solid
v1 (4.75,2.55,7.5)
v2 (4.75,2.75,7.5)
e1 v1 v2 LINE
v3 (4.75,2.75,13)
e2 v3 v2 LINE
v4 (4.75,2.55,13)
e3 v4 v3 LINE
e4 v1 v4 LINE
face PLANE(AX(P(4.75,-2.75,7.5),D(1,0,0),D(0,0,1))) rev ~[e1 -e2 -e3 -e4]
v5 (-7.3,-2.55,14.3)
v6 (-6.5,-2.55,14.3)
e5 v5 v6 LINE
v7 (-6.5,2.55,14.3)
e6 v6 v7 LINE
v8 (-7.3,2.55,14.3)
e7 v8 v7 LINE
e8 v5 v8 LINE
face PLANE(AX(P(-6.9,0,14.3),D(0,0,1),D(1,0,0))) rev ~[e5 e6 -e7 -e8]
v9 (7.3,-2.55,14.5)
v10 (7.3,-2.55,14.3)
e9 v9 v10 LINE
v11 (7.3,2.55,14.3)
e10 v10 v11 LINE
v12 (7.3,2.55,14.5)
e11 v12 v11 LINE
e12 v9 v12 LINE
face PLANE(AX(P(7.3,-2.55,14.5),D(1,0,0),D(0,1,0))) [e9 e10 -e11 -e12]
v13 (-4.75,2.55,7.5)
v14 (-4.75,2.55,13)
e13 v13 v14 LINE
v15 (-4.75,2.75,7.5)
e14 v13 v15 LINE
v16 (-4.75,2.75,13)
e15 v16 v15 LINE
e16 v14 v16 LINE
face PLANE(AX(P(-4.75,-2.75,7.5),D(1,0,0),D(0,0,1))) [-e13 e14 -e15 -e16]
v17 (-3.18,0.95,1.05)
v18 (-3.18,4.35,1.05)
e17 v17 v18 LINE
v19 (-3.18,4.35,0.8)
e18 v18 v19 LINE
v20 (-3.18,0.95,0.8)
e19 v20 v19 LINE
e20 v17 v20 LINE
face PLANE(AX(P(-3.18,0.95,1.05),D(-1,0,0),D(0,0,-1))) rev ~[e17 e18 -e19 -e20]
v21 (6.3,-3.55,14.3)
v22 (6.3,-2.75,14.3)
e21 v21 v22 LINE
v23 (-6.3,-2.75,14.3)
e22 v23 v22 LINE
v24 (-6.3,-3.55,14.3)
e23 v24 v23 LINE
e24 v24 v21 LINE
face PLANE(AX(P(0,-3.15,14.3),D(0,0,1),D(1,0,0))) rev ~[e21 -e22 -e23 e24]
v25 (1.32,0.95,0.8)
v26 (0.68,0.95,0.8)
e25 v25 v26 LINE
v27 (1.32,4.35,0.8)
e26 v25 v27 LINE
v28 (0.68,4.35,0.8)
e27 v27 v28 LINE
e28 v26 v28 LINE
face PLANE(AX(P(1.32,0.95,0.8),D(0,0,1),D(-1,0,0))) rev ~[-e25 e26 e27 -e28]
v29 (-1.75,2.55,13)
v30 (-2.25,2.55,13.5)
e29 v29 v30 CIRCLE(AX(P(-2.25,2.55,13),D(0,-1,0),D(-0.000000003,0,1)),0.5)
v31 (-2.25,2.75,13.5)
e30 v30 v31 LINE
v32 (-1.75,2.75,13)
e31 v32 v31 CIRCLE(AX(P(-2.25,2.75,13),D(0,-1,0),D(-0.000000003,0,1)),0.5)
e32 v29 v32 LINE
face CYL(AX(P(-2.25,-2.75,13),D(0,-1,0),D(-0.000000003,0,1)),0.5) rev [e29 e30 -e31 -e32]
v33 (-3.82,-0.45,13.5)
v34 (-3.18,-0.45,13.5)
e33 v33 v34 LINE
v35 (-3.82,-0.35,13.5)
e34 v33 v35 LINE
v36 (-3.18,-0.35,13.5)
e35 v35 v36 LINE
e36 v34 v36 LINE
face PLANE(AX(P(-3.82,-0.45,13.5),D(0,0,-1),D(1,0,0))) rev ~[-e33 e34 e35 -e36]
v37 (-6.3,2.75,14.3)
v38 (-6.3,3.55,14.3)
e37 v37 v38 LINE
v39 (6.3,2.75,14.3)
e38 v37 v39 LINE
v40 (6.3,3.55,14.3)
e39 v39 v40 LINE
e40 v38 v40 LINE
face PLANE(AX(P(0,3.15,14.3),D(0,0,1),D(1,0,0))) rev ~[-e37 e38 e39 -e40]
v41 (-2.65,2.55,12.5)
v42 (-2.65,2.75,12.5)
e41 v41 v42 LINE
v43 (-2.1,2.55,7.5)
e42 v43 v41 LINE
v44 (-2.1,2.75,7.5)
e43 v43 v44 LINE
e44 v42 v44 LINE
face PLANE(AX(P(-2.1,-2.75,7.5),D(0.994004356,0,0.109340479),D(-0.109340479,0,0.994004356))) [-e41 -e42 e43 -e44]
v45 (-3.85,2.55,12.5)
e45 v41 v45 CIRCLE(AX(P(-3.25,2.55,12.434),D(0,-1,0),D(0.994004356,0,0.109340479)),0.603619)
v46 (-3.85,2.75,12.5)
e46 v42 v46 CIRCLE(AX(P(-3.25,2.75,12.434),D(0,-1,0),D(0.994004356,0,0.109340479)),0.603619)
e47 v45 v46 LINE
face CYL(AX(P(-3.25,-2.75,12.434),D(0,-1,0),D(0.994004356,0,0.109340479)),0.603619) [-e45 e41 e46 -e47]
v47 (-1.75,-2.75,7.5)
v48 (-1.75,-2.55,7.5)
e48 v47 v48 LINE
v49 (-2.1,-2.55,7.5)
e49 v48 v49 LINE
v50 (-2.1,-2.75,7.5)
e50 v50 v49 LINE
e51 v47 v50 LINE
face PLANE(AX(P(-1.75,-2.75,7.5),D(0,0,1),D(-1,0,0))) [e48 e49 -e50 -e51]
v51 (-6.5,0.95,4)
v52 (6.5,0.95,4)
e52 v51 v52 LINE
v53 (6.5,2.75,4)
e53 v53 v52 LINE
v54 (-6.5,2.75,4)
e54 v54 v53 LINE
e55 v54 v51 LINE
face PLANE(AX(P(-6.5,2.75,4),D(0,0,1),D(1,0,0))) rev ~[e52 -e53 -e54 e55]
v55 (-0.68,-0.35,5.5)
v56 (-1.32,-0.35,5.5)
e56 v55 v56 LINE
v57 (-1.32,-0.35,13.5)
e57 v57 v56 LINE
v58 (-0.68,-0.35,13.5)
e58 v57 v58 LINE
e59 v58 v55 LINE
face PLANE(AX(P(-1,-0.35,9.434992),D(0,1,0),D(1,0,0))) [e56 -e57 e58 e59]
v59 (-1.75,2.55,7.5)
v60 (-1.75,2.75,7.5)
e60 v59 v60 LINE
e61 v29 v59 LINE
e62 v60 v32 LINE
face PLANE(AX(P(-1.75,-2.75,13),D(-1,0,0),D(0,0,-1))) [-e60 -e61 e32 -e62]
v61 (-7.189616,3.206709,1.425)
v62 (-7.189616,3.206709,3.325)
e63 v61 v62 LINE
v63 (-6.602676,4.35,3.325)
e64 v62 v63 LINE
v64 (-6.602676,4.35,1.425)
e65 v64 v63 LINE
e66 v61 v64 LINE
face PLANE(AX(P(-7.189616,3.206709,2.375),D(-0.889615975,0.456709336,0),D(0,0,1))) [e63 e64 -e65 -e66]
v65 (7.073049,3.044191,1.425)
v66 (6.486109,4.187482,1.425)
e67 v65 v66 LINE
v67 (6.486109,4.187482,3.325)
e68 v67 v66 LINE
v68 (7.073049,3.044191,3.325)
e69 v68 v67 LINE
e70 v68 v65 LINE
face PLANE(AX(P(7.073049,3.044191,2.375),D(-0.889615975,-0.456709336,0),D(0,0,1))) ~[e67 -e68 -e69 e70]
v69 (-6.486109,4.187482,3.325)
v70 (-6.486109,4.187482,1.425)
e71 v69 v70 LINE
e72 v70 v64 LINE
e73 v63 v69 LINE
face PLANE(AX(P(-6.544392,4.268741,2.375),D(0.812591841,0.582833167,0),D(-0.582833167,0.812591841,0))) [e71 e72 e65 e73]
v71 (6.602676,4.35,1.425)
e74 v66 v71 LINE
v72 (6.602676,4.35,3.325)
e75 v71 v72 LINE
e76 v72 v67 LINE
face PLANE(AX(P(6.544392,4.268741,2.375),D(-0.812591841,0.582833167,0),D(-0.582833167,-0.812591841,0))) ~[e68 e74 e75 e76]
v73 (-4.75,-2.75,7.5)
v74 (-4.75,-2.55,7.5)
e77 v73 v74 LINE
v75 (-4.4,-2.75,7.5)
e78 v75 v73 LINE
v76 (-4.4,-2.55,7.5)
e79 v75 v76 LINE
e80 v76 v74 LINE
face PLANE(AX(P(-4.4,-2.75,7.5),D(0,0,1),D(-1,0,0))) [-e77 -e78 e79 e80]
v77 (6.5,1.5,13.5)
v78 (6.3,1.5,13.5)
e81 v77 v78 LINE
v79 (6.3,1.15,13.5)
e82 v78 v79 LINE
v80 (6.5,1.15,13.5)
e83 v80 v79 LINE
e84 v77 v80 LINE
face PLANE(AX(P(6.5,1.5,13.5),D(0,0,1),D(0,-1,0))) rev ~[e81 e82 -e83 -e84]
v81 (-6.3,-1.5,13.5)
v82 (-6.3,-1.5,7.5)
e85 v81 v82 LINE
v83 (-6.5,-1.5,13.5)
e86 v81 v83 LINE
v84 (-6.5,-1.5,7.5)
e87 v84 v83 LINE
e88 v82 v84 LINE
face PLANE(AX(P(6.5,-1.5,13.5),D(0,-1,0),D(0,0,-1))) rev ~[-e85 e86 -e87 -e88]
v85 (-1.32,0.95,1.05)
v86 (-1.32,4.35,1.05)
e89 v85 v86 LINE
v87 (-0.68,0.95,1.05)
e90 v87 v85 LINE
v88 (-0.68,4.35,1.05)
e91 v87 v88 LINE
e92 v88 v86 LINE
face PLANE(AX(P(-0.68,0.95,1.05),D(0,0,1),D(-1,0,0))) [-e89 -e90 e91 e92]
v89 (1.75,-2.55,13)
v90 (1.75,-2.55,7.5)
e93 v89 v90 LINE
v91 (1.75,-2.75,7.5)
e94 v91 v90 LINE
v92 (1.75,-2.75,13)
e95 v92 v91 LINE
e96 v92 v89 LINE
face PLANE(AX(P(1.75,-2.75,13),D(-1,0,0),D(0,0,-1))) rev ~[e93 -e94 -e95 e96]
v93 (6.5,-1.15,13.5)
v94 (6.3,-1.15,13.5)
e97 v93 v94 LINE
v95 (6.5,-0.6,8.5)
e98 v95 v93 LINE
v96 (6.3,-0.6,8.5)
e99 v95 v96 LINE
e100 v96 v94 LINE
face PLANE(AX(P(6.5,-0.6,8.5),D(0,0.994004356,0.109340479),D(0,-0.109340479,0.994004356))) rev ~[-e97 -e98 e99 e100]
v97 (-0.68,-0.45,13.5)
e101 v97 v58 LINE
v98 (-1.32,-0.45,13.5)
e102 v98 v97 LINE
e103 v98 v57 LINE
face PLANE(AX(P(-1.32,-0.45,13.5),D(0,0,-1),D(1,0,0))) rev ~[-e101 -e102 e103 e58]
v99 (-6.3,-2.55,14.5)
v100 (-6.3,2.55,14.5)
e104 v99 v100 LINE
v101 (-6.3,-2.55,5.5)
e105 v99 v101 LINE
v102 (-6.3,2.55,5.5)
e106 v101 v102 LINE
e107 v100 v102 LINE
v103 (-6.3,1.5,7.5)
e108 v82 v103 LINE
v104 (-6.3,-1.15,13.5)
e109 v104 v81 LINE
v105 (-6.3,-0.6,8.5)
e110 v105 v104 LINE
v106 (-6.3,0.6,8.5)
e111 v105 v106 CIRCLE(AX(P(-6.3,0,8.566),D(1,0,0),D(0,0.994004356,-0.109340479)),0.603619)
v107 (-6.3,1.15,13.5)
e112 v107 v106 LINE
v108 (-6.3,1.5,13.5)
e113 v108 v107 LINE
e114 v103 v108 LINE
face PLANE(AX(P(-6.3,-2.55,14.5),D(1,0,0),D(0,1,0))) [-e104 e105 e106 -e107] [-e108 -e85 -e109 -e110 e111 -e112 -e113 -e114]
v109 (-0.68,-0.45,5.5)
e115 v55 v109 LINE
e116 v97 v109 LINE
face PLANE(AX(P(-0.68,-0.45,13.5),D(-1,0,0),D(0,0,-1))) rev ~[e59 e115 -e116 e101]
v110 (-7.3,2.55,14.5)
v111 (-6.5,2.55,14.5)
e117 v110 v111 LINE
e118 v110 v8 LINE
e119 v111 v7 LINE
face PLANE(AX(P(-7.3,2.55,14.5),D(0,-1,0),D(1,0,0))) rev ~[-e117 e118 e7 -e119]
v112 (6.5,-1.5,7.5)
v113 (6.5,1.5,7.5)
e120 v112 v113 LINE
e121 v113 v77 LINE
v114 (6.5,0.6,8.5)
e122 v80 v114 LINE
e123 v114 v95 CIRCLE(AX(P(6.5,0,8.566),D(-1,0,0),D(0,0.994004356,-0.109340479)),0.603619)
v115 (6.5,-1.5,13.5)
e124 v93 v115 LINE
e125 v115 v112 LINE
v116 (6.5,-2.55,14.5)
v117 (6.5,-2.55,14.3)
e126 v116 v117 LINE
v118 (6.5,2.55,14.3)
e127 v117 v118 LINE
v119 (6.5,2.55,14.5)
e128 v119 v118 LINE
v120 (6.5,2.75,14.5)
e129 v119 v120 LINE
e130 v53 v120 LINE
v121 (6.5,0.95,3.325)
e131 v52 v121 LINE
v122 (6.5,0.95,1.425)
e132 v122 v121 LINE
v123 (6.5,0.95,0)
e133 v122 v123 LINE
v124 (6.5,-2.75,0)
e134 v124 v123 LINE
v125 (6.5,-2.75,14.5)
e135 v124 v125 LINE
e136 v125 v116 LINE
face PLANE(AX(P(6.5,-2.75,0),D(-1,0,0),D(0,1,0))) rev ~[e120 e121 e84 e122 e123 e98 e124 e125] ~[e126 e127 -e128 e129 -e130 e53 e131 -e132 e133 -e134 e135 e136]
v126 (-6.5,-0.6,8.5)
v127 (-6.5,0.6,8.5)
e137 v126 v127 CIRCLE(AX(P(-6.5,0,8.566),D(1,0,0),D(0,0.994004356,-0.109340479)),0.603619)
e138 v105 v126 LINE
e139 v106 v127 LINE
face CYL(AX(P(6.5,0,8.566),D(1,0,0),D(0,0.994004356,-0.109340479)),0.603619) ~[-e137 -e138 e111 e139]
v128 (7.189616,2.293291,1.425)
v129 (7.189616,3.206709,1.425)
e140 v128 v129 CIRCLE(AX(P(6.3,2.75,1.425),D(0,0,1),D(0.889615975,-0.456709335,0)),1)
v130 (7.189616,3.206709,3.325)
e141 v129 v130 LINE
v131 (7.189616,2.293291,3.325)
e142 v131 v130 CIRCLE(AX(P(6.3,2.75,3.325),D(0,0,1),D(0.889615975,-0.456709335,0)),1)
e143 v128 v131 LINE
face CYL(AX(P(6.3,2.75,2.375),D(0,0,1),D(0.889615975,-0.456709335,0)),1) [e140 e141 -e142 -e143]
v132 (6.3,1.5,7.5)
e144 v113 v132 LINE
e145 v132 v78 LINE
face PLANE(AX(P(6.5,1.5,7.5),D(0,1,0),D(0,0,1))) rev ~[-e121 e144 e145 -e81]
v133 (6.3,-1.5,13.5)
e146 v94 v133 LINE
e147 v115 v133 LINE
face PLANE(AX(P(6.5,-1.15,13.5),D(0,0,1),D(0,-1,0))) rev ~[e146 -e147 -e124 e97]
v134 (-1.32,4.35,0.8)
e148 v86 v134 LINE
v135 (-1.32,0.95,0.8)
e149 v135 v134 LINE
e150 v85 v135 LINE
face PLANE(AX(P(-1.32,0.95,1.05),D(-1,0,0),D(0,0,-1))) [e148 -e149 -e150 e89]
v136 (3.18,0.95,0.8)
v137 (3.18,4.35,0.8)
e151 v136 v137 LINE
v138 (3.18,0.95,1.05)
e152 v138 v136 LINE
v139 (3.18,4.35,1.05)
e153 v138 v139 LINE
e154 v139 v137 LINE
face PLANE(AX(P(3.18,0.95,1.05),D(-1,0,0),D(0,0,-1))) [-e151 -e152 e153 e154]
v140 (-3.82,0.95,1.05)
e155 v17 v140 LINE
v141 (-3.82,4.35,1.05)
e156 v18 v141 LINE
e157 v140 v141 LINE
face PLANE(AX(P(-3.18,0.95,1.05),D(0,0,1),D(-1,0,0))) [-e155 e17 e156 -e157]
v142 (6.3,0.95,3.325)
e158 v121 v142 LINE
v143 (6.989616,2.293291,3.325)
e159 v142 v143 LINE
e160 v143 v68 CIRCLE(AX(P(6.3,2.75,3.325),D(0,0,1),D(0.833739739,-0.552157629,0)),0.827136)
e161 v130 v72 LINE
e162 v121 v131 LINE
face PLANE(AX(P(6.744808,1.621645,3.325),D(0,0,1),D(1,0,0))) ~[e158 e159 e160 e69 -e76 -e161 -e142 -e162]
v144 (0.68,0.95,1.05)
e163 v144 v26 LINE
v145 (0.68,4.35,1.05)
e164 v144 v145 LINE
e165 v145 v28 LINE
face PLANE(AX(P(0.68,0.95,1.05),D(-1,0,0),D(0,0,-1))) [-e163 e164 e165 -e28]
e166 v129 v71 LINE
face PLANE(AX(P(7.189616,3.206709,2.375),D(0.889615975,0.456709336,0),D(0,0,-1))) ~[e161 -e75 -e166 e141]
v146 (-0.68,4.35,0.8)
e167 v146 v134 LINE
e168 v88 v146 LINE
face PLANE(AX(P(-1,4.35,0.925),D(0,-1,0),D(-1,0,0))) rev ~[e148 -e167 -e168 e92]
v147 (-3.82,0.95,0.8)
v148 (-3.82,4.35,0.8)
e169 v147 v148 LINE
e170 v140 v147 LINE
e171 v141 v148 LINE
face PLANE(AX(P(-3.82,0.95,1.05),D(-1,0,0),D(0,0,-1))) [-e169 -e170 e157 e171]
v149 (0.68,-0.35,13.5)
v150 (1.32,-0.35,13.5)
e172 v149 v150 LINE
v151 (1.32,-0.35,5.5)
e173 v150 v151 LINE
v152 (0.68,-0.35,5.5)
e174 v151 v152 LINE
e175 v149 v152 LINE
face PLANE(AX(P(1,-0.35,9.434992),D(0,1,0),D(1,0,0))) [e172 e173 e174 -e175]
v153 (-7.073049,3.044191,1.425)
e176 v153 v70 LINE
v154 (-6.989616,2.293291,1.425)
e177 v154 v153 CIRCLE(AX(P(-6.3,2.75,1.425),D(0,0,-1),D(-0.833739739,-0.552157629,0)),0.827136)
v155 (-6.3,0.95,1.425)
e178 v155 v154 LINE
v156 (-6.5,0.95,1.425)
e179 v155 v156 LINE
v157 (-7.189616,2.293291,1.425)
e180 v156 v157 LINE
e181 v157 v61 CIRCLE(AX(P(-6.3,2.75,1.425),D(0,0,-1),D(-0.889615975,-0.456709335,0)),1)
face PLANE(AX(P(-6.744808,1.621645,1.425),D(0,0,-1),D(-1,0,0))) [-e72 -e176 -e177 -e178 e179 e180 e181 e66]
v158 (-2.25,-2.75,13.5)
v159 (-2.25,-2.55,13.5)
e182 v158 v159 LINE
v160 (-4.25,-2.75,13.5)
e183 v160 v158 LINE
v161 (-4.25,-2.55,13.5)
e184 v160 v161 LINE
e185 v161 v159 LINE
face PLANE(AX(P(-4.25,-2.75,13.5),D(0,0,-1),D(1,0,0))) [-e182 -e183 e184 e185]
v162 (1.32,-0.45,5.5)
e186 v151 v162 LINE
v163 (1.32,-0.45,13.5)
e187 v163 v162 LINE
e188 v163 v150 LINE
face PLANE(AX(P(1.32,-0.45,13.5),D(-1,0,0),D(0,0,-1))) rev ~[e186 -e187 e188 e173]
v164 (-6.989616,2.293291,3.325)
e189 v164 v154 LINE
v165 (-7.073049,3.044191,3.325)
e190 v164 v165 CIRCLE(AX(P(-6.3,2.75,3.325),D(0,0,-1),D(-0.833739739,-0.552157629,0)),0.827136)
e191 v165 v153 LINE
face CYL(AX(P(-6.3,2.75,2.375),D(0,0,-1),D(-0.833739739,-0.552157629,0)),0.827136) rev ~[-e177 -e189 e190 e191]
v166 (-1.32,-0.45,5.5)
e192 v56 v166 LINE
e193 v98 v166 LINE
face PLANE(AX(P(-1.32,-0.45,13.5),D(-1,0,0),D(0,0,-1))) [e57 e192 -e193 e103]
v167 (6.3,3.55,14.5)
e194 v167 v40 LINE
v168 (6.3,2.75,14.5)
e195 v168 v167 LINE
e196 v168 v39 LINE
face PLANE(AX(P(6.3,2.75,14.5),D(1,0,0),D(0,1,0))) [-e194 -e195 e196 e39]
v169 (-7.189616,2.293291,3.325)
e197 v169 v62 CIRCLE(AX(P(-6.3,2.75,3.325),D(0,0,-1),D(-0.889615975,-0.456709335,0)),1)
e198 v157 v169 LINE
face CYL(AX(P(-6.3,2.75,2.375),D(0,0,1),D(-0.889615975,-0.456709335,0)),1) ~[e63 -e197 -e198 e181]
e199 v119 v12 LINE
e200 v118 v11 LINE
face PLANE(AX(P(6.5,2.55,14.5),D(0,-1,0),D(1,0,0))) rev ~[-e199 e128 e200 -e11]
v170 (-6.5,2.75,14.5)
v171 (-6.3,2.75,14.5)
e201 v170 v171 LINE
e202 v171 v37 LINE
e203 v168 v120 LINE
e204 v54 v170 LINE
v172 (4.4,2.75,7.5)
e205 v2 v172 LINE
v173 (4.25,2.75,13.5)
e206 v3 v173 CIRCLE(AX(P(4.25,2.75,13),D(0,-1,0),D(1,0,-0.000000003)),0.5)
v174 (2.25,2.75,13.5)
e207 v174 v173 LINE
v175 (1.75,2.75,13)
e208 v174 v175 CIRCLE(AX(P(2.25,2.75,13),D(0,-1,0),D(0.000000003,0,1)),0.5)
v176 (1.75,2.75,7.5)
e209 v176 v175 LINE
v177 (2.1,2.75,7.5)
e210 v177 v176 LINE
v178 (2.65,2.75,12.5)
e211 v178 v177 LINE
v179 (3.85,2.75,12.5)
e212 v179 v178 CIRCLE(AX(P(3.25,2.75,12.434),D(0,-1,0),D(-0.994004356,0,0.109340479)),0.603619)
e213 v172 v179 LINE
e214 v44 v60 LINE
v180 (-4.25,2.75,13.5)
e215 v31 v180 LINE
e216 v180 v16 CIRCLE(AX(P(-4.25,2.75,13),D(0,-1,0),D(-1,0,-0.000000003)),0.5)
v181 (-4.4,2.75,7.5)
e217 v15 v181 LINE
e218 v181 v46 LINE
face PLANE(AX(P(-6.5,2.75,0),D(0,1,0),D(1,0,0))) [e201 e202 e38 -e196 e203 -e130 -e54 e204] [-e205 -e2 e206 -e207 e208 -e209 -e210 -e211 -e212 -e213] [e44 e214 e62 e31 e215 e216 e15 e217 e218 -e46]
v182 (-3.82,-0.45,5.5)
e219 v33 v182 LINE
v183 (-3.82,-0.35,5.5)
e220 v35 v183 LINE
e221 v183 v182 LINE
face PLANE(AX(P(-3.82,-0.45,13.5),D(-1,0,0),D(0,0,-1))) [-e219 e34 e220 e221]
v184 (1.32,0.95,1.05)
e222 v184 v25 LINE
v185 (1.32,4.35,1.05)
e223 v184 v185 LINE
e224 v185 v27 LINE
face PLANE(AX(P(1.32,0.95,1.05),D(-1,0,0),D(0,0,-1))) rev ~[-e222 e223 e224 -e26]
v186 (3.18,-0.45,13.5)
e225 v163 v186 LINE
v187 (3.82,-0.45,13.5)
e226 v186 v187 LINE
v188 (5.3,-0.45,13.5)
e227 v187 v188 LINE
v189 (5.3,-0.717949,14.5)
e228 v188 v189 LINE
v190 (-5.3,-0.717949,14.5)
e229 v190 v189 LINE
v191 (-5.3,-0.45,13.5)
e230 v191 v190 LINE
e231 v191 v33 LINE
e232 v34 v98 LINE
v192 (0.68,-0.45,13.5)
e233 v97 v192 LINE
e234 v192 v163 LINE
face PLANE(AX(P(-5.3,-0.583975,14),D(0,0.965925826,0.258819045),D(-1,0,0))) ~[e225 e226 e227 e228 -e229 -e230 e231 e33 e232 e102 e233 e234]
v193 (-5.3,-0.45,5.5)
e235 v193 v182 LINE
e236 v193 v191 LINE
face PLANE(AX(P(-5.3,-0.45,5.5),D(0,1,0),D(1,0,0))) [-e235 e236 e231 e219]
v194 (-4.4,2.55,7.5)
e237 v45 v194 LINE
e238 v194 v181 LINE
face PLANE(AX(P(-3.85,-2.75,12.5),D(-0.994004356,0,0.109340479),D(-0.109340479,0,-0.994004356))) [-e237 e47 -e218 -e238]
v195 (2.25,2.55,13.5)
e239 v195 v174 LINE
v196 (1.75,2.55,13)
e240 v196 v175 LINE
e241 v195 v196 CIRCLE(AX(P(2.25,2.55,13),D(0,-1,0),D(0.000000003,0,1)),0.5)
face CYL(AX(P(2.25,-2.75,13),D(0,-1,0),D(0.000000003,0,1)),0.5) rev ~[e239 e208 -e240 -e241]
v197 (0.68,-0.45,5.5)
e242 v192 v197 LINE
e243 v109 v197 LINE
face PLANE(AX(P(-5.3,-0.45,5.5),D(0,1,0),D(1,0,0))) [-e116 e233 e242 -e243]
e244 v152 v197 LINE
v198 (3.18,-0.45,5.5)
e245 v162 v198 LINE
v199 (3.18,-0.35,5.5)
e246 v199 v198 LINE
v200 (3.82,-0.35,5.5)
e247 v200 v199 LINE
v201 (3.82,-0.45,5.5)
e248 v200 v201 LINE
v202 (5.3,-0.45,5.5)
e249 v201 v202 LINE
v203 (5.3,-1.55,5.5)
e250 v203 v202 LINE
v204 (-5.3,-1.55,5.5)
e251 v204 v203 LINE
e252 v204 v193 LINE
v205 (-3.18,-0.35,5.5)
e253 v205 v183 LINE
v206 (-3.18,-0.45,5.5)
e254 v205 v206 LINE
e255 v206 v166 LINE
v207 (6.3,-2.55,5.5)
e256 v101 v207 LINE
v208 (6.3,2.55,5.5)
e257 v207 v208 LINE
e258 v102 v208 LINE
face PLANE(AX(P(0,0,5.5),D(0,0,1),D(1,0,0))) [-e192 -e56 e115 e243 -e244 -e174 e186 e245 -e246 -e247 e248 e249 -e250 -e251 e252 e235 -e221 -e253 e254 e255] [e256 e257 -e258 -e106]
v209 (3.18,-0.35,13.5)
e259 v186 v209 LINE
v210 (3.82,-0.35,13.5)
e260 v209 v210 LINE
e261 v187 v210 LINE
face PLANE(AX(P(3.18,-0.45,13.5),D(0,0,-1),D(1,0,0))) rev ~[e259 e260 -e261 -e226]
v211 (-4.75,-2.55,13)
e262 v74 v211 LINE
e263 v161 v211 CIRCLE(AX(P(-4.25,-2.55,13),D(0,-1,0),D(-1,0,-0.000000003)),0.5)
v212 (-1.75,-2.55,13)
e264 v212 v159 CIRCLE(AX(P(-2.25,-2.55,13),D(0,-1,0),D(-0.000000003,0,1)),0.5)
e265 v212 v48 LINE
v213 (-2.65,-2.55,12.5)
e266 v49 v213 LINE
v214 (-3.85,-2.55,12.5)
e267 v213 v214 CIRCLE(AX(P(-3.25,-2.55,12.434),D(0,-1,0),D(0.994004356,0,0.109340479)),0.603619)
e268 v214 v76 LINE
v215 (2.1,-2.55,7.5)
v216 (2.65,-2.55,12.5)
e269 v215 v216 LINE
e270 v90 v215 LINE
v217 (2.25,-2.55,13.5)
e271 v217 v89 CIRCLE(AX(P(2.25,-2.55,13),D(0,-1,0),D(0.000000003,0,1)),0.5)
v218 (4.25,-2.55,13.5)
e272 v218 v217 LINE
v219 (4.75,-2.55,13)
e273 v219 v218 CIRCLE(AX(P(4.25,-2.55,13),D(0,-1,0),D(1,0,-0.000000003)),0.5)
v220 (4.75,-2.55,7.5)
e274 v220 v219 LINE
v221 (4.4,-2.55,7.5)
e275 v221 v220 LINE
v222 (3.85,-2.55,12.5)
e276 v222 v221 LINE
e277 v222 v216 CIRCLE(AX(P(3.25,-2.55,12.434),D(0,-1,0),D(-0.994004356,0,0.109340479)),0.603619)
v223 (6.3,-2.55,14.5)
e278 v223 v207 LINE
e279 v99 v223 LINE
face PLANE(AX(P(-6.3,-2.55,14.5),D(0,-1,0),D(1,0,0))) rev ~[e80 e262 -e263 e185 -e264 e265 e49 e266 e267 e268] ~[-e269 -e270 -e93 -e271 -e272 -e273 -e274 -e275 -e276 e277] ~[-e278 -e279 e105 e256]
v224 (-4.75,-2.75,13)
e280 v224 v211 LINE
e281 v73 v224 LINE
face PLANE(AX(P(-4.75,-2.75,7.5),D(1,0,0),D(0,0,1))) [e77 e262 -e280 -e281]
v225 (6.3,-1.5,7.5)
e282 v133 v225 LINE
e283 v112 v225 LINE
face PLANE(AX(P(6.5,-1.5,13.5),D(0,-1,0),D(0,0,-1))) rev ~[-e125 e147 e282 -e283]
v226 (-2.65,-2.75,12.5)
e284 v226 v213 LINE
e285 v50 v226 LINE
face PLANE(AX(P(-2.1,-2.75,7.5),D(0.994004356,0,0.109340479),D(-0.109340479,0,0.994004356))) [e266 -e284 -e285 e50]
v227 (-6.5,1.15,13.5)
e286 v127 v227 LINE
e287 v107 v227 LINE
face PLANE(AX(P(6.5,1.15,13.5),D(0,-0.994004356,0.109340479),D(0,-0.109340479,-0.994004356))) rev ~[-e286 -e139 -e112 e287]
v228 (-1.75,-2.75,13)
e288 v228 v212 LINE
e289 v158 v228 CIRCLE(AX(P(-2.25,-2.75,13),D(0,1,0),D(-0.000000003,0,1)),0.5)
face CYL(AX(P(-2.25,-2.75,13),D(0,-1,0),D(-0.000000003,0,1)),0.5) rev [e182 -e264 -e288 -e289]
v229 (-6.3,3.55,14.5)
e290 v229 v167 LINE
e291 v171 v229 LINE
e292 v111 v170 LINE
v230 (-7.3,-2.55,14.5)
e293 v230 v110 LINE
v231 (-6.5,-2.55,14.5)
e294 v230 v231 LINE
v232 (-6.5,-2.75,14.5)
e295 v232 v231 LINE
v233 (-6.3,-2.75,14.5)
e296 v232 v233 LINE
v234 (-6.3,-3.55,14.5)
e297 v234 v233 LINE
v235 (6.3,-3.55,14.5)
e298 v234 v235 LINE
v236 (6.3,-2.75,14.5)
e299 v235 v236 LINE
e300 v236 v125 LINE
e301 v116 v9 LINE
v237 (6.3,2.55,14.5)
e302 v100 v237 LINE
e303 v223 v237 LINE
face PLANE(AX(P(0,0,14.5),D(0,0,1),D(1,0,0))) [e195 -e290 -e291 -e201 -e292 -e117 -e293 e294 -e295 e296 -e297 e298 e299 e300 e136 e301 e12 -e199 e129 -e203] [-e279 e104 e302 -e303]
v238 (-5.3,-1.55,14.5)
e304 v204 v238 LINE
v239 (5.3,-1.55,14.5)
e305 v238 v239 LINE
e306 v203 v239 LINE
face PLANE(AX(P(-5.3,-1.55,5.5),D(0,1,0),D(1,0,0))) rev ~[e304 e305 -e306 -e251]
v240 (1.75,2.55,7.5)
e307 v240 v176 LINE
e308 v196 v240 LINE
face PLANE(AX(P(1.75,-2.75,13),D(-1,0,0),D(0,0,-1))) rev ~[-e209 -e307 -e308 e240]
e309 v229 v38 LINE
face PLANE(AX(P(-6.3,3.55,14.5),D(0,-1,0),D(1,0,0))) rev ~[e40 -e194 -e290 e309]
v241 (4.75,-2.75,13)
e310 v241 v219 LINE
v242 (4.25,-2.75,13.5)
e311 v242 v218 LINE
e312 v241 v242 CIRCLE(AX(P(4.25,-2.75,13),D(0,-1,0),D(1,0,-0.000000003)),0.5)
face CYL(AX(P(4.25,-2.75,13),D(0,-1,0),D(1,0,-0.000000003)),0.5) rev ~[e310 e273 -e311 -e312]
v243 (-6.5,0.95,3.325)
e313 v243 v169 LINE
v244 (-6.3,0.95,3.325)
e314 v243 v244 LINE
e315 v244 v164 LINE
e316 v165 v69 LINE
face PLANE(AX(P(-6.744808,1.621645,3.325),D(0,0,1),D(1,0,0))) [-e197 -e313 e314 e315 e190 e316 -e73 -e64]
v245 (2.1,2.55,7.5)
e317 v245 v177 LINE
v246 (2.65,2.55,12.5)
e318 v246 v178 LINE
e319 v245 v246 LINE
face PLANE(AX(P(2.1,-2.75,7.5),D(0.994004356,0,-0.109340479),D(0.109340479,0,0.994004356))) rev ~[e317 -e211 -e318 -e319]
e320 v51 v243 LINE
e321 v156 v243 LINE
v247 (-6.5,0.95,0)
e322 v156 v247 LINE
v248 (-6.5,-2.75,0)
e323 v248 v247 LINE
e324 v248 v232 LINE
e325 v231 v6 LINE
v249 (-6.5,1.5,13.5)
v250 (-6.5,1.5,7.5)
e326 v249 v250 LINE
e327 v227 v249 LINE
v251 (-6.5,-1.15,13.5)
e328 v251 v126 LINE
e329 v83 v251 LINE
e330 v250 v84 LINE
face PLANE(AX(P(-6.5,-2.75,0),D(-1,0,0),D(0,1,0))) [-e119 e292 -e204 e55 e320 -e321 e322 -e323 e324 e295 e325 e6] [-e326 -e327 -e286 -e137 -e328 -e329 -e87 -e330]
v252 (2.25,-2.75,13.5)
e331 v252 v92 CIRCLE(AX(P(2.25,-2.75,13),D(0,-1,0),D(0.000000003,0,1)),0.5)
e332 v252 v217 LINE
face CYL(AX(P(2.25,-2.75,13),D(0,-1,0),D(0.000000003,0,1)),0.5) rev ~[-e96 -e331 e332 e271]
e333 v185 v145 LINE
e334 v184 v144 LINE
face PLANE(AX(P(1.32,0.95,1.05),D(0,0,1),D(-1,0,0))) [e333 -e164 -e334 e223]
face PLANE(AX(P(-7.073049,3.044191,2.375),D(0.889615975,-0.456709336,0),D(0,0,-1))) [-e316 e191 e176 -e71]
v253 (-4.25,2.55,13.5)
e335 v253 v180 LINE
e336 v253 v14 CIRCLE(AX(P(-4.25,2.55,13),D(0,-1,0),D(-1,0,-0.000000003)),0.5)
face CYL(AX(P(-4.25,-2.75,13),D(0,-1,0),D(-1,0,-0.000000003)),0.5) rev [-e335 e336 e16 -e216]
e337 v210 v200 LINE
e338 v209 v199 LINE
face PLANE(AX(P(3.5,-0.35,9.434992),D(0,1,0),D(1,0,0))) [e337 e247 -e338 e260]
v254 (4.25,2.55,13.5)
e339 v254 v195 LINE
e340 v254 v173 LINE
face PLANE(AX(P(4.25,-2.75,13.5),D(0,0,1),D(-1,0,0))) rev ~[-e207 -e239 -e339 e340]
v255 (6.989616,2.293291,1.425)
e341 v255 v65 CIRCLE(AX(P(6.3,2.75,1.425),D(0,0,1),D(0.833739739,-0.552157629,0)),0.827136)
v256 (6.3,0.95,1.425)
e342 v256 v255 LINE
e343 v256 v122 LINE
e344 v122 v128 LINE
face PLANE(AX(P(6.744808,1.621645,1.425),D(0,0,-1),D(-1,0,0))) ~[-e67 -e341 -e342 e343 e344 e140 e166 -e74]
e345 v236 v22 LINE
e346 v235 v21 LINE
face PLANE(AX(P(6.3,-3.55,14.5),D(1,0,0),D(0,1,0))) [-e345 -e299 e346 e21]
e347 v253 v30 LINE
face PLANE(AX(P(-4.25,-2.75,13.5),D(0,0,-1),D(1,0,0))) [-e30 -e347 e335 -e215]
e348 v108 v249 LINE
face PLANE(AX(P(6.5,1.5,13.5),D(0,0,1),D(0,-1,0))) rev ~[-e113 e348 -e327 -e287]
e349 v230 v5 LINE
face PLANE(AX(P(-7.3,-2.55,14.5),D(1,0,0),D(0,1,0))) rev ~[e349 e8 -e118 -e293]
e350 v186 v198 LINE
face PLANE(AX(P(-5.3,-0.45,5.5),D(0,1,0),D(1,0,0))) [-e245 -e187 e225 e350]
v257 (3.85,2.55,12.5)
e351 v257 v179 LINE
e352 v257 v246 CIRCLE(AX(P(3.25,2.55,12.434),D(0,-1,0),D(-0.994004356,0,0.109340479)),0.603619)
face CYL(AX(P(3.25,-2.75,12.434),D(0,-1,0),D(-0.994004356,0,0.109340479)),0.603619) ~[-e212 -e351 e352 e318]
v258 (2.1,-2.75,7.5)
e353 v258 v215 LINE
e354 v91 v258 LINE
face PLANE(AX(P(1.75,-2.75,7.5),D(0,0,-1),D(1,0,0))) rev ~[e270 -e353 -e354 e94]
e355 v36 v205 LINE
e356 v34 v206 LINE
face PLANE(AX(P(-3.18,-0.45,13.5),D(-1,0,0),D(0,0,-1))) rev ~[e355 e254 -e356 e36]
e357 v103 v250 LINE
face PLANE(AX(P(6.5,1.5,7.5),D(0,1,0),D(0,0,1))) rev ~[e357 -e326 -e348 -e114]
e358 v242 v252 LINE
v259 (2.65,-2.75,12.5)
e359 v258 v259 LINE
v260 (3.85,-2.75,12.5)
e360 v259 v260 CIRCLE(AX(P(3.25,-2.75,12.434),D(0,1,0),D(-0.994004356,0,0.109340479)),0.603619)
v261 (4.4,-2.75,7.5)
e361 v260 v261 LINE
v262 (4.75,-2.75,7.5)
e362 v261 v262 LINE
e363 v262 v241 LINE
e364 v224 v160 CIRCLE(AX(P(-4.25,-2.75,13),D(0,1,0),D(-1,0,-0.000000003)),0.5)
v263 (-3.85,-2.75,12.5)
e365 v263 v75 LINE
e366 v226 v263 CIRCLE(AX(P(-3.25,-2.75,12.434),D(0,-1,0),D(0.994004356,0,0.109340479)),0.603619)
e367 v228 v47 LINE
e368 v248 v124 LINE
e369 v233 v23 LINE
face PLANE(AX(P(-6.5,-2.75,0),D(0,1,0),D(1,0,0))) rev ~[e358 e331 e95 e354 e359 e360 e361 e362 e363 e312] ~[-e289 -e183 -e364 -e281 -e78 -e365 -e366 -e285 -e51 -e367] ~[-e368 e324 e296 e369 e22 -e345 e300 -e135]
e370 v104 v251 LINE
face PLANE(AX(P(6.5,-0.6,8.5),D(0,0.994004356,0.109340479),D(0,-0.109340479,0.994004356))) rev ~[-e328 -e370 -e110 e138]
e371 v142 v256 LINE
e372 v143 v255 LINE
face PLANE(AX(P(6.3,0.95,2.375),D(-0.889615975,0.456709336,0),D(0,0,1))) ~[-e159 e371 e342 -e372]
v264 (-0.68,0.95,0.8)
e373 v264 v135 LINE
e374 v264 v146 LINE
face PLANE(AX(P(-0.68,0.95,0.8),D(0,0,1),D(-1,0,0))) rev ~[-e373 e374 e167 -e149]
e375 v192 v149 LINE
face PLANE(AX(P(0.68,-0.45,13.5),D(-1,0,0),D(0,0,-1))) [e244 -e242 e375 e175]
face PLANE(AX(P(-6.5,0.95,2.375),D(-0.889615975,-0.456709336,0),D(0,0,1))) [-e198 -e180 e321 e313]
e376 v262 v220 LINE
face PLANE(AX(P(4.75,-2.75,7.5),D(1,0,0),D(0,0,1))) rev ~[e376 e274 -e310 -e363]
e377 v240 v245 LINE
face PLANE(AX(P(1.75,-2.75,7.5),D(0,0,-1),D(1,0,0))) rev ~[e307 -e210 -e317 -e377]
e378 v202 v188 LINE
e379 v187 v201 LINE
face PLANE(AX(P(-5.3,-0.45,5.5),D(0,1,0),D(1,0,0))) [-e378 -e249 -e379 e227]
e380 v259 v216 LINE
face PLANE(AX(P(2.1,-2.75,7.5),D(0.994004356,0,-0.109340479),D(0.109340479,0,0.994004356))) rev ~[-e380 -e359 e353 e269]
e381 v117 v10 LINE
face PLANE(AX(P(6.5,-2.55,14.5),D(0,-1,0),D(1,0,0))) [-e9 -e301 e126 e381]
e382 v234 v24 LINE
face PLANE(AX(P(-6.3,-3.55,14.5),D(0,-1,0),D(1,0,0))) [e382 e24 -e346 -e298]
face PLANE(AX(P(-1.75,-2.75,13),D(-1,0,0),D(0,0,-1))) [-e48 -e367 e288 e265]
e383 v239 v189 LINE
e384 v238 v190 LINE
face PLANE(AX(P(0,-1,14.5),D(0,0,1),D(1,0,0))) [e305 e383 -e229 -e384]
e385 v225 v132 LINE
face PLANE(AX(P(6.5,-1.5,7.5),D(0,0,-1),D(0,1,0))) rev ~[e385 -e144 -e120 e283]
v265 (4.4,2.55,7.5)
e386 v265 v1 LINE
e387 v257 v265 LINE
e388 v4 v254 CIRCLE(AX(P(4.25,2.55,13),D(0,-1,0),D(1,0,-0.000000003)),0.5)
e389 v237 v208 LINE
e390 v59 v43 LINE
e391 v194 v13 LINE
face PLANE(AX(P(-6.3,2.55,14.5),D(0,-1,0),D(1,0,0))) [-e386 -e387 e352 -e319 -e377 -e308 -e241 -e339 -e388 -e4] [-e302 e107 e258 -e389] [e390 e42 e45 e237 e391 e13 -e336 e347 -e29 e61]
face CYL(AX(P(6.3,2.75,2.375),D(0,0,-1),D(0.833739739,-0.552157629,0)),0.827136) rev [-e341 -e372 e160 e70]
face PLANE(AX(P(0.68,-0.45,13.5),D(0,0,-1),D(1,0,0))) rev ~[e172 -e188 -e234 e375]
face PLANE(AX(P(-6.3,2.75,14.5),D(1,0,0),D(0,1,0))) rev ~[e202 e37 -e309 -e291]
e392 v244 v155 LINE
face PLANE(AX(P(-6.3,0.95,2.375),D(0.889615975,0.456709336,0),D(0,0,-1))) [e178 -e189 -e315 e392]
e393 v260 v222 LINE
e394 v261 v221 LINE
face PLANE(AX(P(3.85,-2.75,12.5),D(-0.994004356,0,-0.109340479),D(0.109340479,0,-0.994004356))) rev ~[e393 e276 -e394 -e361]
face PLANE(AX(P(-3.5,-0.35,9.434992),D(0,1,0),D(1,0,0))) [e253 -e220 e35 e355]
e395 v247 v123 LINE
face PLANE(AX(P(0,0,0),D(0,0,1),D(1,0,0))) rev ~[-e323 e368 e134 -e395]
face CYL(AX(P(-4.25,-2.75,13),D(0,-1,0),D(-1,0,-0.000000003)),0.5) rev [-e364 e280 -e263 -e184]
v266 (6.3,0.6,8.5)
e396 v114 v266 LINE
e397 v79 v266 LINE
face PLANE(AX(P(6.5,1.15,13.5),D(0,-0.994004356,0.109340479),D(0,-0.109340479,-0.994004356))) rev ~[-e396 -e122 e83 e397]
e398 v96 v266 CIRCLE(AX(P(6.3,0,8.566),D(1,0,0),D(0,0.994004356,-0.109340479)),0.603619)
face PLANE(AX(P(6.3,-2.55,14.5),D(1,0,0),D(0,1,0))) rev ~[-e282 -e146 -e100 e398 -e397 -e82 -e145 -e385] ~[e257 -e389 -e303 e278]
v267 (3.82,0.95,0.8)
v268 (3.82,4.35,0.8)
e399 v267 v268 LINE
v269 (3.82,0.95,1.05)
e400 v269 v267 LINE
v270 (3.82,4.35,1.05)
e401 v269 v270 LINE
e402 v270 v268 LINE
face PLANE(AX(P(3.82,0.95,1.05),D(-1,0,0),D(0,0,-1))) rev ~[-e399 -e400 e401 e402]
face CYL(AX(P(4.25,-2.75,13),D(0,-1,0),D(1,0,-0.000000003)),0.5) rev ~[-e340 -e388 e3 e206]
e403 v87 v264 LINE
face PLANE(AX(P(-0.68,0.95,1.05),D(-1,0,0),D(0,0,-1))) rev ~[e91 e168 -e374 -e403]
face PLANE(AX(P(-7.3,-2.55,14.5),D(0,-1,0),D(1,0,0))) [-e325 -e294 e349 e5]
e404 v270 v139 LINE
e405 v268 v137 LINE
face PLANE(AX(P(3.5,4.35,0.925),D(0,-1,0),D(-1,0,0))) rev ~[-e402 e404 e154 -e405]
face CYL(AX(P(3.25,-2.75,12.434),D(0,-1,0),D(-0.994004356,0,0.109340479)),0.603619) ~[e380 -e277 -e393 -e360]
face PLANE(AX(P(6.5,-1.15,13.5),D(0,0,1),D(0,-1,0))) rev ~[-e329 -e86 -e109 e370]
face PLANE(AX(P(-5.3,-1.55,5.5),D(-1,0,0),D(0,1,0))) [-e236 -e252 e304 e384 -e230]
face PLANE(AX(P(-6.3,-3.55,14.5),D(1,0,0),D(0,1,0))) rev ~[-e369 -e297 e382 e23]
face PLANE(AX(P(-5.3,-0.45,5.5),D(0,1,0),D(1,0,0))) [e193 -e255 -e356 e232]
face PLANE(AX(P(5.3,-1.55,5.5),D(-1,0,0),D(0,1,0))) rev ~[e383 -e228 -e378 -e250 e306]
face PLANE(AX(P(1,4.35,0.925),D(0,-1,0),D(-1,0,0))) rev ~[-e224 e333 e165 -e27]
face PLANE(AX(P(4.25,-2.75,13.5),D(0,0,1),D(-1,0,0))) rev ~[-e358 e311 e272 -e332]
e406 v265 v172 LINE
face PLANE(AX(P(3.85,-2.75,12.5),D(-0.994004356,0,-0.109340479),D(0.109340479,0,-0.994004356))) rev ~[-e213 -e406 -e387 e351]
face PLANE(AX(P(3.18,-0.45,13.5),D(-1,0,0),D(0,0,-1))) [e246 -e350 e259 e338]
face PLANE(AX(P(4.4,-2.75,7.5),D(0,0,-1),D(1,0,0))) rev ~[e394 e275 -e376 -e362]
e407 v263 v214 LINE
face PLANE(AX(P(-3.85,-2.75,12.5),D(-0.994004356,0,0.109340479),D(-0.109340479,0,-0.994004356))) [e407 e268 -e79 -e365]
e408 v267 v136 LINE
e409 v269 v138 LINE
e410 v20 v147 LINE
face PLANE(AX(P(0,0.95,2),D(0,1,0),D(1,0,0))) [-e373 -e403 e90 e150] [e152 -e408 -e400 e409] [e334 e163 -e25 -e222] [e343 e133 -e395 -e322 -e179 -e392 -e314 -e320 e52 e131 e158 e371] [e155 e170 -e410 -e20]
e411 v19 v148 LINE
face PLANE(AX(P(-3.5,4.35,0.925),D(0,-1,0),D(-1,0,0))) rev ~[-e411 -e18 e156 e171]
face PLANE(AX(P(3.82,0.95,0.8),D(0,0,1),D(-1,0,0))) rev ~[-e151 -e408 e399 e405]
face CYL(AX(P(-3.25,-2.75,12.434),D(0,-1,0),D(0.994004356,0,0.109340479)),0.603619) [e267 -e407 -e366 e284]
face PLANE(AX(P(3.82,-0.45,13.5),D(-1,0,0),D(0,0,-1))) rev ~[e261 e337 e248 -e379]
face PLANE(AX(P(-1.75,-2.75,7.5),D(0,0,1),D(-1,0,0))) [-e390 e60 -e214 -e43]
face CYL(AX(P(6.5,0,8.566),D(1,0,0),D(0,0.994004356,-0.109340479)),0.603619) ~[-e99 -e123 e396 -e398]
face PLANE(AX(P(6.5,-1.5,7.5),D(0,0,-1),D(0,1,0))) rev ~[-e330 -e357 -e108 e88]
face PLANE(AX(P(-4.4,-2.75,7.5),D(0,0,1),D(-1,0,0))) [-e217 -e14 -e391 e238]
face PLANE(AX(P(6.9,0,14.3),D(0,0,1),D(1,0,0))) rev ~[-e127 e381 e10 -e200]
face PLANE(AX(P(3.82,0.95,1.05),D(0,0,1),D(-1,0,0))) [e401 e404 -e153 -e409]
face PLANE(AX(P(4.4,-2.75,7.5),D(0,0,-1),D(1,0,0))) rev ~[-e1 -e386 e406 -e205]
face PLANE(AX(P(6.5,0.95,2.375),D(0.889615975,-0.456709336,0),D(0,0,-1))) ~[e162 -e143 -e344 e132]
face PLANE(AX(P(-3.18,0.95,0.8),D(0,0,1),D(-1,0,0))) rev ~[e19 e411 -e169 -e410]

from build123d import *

# Parameters (mm, degrees)
SKETCH_1_W           = 13
SKETCH_1_H           = 5.5
EXTRUDE_1_DEPTH      = 14.5
SKETCH_2_W           = 12.6
SKETCH_2_H           = 5.1
CUT_EXTRUDE_1_DEPTH  = 9
CUT_EXTRUDE_3_DEPTH  = 17.815171721
CUT_EXTRUDE_4_DEPTH  = 20.667549415
SKETCH_5_W           = 10.6
SKETCH_5_H           = 1.1
EXTRUDE_3_DEPTH      = 9
CHAMFER_1_SIZE       = 1
CHAMFER_1_SIZE2      = 0.267949192
SKETCH_3_W           = 13
SKETCH_3_H           = 4
CUT_EXTRUDE_2_DEPTH  = 1.8
SKETCH_9_W           = 0.64
SKETCH_9_H           = 0.25
EXTRUDE_5_DEPTH      = 3.4
SKETCH_14_W          = 0.64
SKETCH_14_H          = 8.130016943
EXTRUDE_6_DEPTH      = 0.1
SKETCH_15_W          = 0.2
SKETCH_15_H          = 1.9
SKETCH_17_W          = 12.6
SKETCH_17_H          = 0.8
SKETCH_17_W_2        = 0.8
SKETCH_17_H_2        = 5.1
EXTRUDE_14_7_1_DEPTH = 0.2


with BuildPart() as part:
    # 草图1 → 凸台-拉伸1 (new body)
    with BuildSketch(Plane.XY):
        Rectangle(SKETCH_1_W, SKETCH_1_H)
    extrude(amount=EXTRUDE_1_DEPTH)

    # 草图2 → 切除-拉伸1 (cut)
    with BuildSketch(Plane.XY.offset(14.5)):
        Rectangle(SKETCH_2_W, SKETCH_2_H)
    extrude(amount=-CUT_EXTRUDE_1_DEPTH, mode=Mode.SUBTRACT)

    # 草图11 → 切除-拉伸3 (cut, through all)
    with BuildSketch(Plane.XZ.offset(2.75)):
        with BuildLine():
            Line((4.75, 7.5), (4.75, 13))
            ThreePointArc((4.75, 13), (4.603553391, 13.353553391), (4.25, 13.5))
            Line((4.25, 13.5), (2.25, 13.5))
            ThreePointArc((2.25, 13.5), (1.896446609, 13.353553391), (1.75, 13))
            Line((1.75, 13), (1.75, 7.5))
            Line((1.75, 7.5), (2.1, 7.5))
            Line((2.1, 7.5), (2.65, 12.5))
            ThreePointArc((2.65, 12.5), (3.25, 13.037619085), (3.85, 12.5))
            Line((3.85, 12.5), (4.4, 7.5))
            Line((4.4, 7.5), (4.75, 7.5))
        make_face()
        with BuildLine():
            Line((-3.85, 12.5), (-4.4, 7.5))
            Line((-4.4, 7.5), (-4.75, 7.5))
            Line((-4.75, 7.5), (-4.75, 13))
            ThreePointArc((-4.75, 13), (-4.603553391, 13.353553391), (-4.25, 13.5))
            Line((-4.25, 13.5), (-2.25, 13.5))
            ThreePointArc((-2.25, 13.5), (-1.896446609, 13.353553391), (-1.75, 13))
            Line((-1.75, 13), (-1.75, 7.5))
            Line((-1.75, 7.5), (-2.1, 7.5))
            Line((-2.1, 7.5), (-2.65, 12.5))
            ThreePointArc((-2.65, 12.5), (-3.25, 13.037619085), (-3.85, 12.5))
        make_face()
    extrude(amount=-CUT_EXTRUDE_3_DEPTH, mode=Mode.SUBTRACT)

    # 草图12 → 切除-拉伸4 (cut, through all)
    with BuildSketch(Plane(origin=(6.5, 0, 0), x_dir=(0, 0, -1), z_dir=(1, 0, 0))):
        with BuildLine():
            Line((-13.5, -1.5), (-7.5, -1.5))
            Line((-7.5, -1.5), (-7.5, 1.5))
            Line((-7.5, 1.5), (-13.5, 1.5))
            Line((-13.5, 1.5), (-13.5, 1.15))
            Line((-13.5, 1.15), (-8.5, 0.6))
            ThreePointArc((-8.5, 0.6), (-7.962380915, 0), (-8.5, -0.6))
            Line((-8.5, -0.6), (-13.5, -1.15))
            Line((-13.5, -1.15), (-13.5, -1.5))
        make_face()
    extrude(amount=-CUT_EXTRUDE_4_DEPTH, mode=Mode.SUBTRACT)

    # 草图5 → 凸台-拉伸3 (add)
    with BuildSketch(Plane.XY.offset(5.5)):
        with Locations((0, -1)):
            Rectangle(SKETCH_5_W, SKETCH_5_H)
    extrude(amount=EXTRUDE_3_DEPTH)

    # 倒角1
    chamfer_1_edges = [part.edges().sort_by_distance(p)[0] for p in [
        (0, -0.45, 14.5),
    ]]
    chamfer_1_side = [part.faces().sort_by_distance(p)[0] for p in [
        (0, -0.45, 10),
    ]]
    chamfer(chamfer_1_edges, length=CHAMFER_1_SIZE, length2=CHAMFER_1_SIZE2, reference=chamfer_1_side[0])

    # 草图3 → 切除-拉伸2 (cut)
    with BuildSketch(Plane(origin=(0, 2.75, 0), x_dir=(1, 0, 0), z_dir=(0, 1, 0))):
        with Locations((0, -2)):
            Rectangle(SKETCH_3_W, SKETCH_3_H)
    extrude(amount=-CUT_EXTRUDE_2_DEPTH, mode=Mode.SUBTRACT)

    # 草图9 → 凸台-拉伸5 (add)
    with BuildSketch(Plane(origin=(0, 0.95, 2.45), x_dir=(-1, 0, 0), z_dir=(0, -1, 0))):
        with Locations((-3.5, 1.525)):
            Rectangle(SKETCH_9_W, SKETCH_9_H)
        with Locations((1, 1.525)):
            Rectangle(SKETCH_9_W, SKETCH_9_H)
        with Locations((-1, 1.525)):
            Rectangle(SKETCH_9_W, SKETCH_9_H)
        with Locations((3.5, 1.525)):
            Rectangle(SKETCH_9_W, SKETCH_9_H)
    extrude(amount=-EXTRUDE_5_DEPTH)

    # 草图14 → 凸台-拉伸6 (add)
    with BuildSketch(Plane(origin=(0, -0.45, 0), x_dir=(1, 0, 0), z_dir=(0, 1, 0))):
        with Locations((-3.5, -9.434991528)):
            Rectangle(SKETCH_14_W, SKETCH_14_H)
        with Locations((-1, -9.434991528)):
            Rectangle(SKETCH_14_W, SKETCH_14_H)
        with Locations((1, -9.434991528)):
            Rectangle(SKETCH_14_W, SKETCH_14_H)
        with Locations((3.5, -9.434991528)):
            Rectangle(SKETCH_14_W, SKETCH_14_H)
    extrude(amount=EXTRUDE_6_DEPTH)

    # 扫描1: sweep along a path in 草图16
    with BuildLine(Plane(origin=(0, 0, 0), x_dir=(-1, 0, 0), z_dir=(0, 0, -1))) as sweep_1_path:
        Line((6.5, 0.95), (7.189615975, 2.293290664))
        ThreePointArc((7.189615975, 2.293290664), (7.3, 2.75), (7.189615975, 3.206709336))
        Line((7.189615975, 3.206709336), (6.602675615, 4.35))
    # 草图15 → 扫描1 (sweep)
    with BuildSketch(Plane(origin=(0, 0.95, 0), x_dir=(1, 0, 0), z_dir=(0, 1, 0))):
        with Locations((-6.4, -2.375)):
            Rectangle(SKETCH_15_W, SKETCH_15_H)
    sweep_1 = sweep(path=sweep_1_path.line)

    # 镜向1: 扫描1 across plane
    add(sweep_1.mirror(Plane(origin=(0, 0, 0), x_dir=(0, 0, 1), z_dir=(1, 0, 0))))

    # 草图17 → 卷边-外径14*7.1 (add)
    with BuildSketch(Plane.XY.offset(14.5)):
        with Locations((0, -3.15)):
            Rectangle(SKETCH_17_W, SKETCH_17_H)
        with Locations((6.9, 0)):
            Rectangle(SKETCH_17_W_2, SKETCH_17_H_2)
        with Locations((-6.9, 0)):
            Rectangle(SKETCH_17_W_2, SKETCH_17_H_2)
        with Locations((0, 3.15)):
            Rectangle(SKETCH_17_W, SKETCH_17_H)
    extrude(amount=-EXTRUDE_14_7_1_DEPTH)


solid = part.part
